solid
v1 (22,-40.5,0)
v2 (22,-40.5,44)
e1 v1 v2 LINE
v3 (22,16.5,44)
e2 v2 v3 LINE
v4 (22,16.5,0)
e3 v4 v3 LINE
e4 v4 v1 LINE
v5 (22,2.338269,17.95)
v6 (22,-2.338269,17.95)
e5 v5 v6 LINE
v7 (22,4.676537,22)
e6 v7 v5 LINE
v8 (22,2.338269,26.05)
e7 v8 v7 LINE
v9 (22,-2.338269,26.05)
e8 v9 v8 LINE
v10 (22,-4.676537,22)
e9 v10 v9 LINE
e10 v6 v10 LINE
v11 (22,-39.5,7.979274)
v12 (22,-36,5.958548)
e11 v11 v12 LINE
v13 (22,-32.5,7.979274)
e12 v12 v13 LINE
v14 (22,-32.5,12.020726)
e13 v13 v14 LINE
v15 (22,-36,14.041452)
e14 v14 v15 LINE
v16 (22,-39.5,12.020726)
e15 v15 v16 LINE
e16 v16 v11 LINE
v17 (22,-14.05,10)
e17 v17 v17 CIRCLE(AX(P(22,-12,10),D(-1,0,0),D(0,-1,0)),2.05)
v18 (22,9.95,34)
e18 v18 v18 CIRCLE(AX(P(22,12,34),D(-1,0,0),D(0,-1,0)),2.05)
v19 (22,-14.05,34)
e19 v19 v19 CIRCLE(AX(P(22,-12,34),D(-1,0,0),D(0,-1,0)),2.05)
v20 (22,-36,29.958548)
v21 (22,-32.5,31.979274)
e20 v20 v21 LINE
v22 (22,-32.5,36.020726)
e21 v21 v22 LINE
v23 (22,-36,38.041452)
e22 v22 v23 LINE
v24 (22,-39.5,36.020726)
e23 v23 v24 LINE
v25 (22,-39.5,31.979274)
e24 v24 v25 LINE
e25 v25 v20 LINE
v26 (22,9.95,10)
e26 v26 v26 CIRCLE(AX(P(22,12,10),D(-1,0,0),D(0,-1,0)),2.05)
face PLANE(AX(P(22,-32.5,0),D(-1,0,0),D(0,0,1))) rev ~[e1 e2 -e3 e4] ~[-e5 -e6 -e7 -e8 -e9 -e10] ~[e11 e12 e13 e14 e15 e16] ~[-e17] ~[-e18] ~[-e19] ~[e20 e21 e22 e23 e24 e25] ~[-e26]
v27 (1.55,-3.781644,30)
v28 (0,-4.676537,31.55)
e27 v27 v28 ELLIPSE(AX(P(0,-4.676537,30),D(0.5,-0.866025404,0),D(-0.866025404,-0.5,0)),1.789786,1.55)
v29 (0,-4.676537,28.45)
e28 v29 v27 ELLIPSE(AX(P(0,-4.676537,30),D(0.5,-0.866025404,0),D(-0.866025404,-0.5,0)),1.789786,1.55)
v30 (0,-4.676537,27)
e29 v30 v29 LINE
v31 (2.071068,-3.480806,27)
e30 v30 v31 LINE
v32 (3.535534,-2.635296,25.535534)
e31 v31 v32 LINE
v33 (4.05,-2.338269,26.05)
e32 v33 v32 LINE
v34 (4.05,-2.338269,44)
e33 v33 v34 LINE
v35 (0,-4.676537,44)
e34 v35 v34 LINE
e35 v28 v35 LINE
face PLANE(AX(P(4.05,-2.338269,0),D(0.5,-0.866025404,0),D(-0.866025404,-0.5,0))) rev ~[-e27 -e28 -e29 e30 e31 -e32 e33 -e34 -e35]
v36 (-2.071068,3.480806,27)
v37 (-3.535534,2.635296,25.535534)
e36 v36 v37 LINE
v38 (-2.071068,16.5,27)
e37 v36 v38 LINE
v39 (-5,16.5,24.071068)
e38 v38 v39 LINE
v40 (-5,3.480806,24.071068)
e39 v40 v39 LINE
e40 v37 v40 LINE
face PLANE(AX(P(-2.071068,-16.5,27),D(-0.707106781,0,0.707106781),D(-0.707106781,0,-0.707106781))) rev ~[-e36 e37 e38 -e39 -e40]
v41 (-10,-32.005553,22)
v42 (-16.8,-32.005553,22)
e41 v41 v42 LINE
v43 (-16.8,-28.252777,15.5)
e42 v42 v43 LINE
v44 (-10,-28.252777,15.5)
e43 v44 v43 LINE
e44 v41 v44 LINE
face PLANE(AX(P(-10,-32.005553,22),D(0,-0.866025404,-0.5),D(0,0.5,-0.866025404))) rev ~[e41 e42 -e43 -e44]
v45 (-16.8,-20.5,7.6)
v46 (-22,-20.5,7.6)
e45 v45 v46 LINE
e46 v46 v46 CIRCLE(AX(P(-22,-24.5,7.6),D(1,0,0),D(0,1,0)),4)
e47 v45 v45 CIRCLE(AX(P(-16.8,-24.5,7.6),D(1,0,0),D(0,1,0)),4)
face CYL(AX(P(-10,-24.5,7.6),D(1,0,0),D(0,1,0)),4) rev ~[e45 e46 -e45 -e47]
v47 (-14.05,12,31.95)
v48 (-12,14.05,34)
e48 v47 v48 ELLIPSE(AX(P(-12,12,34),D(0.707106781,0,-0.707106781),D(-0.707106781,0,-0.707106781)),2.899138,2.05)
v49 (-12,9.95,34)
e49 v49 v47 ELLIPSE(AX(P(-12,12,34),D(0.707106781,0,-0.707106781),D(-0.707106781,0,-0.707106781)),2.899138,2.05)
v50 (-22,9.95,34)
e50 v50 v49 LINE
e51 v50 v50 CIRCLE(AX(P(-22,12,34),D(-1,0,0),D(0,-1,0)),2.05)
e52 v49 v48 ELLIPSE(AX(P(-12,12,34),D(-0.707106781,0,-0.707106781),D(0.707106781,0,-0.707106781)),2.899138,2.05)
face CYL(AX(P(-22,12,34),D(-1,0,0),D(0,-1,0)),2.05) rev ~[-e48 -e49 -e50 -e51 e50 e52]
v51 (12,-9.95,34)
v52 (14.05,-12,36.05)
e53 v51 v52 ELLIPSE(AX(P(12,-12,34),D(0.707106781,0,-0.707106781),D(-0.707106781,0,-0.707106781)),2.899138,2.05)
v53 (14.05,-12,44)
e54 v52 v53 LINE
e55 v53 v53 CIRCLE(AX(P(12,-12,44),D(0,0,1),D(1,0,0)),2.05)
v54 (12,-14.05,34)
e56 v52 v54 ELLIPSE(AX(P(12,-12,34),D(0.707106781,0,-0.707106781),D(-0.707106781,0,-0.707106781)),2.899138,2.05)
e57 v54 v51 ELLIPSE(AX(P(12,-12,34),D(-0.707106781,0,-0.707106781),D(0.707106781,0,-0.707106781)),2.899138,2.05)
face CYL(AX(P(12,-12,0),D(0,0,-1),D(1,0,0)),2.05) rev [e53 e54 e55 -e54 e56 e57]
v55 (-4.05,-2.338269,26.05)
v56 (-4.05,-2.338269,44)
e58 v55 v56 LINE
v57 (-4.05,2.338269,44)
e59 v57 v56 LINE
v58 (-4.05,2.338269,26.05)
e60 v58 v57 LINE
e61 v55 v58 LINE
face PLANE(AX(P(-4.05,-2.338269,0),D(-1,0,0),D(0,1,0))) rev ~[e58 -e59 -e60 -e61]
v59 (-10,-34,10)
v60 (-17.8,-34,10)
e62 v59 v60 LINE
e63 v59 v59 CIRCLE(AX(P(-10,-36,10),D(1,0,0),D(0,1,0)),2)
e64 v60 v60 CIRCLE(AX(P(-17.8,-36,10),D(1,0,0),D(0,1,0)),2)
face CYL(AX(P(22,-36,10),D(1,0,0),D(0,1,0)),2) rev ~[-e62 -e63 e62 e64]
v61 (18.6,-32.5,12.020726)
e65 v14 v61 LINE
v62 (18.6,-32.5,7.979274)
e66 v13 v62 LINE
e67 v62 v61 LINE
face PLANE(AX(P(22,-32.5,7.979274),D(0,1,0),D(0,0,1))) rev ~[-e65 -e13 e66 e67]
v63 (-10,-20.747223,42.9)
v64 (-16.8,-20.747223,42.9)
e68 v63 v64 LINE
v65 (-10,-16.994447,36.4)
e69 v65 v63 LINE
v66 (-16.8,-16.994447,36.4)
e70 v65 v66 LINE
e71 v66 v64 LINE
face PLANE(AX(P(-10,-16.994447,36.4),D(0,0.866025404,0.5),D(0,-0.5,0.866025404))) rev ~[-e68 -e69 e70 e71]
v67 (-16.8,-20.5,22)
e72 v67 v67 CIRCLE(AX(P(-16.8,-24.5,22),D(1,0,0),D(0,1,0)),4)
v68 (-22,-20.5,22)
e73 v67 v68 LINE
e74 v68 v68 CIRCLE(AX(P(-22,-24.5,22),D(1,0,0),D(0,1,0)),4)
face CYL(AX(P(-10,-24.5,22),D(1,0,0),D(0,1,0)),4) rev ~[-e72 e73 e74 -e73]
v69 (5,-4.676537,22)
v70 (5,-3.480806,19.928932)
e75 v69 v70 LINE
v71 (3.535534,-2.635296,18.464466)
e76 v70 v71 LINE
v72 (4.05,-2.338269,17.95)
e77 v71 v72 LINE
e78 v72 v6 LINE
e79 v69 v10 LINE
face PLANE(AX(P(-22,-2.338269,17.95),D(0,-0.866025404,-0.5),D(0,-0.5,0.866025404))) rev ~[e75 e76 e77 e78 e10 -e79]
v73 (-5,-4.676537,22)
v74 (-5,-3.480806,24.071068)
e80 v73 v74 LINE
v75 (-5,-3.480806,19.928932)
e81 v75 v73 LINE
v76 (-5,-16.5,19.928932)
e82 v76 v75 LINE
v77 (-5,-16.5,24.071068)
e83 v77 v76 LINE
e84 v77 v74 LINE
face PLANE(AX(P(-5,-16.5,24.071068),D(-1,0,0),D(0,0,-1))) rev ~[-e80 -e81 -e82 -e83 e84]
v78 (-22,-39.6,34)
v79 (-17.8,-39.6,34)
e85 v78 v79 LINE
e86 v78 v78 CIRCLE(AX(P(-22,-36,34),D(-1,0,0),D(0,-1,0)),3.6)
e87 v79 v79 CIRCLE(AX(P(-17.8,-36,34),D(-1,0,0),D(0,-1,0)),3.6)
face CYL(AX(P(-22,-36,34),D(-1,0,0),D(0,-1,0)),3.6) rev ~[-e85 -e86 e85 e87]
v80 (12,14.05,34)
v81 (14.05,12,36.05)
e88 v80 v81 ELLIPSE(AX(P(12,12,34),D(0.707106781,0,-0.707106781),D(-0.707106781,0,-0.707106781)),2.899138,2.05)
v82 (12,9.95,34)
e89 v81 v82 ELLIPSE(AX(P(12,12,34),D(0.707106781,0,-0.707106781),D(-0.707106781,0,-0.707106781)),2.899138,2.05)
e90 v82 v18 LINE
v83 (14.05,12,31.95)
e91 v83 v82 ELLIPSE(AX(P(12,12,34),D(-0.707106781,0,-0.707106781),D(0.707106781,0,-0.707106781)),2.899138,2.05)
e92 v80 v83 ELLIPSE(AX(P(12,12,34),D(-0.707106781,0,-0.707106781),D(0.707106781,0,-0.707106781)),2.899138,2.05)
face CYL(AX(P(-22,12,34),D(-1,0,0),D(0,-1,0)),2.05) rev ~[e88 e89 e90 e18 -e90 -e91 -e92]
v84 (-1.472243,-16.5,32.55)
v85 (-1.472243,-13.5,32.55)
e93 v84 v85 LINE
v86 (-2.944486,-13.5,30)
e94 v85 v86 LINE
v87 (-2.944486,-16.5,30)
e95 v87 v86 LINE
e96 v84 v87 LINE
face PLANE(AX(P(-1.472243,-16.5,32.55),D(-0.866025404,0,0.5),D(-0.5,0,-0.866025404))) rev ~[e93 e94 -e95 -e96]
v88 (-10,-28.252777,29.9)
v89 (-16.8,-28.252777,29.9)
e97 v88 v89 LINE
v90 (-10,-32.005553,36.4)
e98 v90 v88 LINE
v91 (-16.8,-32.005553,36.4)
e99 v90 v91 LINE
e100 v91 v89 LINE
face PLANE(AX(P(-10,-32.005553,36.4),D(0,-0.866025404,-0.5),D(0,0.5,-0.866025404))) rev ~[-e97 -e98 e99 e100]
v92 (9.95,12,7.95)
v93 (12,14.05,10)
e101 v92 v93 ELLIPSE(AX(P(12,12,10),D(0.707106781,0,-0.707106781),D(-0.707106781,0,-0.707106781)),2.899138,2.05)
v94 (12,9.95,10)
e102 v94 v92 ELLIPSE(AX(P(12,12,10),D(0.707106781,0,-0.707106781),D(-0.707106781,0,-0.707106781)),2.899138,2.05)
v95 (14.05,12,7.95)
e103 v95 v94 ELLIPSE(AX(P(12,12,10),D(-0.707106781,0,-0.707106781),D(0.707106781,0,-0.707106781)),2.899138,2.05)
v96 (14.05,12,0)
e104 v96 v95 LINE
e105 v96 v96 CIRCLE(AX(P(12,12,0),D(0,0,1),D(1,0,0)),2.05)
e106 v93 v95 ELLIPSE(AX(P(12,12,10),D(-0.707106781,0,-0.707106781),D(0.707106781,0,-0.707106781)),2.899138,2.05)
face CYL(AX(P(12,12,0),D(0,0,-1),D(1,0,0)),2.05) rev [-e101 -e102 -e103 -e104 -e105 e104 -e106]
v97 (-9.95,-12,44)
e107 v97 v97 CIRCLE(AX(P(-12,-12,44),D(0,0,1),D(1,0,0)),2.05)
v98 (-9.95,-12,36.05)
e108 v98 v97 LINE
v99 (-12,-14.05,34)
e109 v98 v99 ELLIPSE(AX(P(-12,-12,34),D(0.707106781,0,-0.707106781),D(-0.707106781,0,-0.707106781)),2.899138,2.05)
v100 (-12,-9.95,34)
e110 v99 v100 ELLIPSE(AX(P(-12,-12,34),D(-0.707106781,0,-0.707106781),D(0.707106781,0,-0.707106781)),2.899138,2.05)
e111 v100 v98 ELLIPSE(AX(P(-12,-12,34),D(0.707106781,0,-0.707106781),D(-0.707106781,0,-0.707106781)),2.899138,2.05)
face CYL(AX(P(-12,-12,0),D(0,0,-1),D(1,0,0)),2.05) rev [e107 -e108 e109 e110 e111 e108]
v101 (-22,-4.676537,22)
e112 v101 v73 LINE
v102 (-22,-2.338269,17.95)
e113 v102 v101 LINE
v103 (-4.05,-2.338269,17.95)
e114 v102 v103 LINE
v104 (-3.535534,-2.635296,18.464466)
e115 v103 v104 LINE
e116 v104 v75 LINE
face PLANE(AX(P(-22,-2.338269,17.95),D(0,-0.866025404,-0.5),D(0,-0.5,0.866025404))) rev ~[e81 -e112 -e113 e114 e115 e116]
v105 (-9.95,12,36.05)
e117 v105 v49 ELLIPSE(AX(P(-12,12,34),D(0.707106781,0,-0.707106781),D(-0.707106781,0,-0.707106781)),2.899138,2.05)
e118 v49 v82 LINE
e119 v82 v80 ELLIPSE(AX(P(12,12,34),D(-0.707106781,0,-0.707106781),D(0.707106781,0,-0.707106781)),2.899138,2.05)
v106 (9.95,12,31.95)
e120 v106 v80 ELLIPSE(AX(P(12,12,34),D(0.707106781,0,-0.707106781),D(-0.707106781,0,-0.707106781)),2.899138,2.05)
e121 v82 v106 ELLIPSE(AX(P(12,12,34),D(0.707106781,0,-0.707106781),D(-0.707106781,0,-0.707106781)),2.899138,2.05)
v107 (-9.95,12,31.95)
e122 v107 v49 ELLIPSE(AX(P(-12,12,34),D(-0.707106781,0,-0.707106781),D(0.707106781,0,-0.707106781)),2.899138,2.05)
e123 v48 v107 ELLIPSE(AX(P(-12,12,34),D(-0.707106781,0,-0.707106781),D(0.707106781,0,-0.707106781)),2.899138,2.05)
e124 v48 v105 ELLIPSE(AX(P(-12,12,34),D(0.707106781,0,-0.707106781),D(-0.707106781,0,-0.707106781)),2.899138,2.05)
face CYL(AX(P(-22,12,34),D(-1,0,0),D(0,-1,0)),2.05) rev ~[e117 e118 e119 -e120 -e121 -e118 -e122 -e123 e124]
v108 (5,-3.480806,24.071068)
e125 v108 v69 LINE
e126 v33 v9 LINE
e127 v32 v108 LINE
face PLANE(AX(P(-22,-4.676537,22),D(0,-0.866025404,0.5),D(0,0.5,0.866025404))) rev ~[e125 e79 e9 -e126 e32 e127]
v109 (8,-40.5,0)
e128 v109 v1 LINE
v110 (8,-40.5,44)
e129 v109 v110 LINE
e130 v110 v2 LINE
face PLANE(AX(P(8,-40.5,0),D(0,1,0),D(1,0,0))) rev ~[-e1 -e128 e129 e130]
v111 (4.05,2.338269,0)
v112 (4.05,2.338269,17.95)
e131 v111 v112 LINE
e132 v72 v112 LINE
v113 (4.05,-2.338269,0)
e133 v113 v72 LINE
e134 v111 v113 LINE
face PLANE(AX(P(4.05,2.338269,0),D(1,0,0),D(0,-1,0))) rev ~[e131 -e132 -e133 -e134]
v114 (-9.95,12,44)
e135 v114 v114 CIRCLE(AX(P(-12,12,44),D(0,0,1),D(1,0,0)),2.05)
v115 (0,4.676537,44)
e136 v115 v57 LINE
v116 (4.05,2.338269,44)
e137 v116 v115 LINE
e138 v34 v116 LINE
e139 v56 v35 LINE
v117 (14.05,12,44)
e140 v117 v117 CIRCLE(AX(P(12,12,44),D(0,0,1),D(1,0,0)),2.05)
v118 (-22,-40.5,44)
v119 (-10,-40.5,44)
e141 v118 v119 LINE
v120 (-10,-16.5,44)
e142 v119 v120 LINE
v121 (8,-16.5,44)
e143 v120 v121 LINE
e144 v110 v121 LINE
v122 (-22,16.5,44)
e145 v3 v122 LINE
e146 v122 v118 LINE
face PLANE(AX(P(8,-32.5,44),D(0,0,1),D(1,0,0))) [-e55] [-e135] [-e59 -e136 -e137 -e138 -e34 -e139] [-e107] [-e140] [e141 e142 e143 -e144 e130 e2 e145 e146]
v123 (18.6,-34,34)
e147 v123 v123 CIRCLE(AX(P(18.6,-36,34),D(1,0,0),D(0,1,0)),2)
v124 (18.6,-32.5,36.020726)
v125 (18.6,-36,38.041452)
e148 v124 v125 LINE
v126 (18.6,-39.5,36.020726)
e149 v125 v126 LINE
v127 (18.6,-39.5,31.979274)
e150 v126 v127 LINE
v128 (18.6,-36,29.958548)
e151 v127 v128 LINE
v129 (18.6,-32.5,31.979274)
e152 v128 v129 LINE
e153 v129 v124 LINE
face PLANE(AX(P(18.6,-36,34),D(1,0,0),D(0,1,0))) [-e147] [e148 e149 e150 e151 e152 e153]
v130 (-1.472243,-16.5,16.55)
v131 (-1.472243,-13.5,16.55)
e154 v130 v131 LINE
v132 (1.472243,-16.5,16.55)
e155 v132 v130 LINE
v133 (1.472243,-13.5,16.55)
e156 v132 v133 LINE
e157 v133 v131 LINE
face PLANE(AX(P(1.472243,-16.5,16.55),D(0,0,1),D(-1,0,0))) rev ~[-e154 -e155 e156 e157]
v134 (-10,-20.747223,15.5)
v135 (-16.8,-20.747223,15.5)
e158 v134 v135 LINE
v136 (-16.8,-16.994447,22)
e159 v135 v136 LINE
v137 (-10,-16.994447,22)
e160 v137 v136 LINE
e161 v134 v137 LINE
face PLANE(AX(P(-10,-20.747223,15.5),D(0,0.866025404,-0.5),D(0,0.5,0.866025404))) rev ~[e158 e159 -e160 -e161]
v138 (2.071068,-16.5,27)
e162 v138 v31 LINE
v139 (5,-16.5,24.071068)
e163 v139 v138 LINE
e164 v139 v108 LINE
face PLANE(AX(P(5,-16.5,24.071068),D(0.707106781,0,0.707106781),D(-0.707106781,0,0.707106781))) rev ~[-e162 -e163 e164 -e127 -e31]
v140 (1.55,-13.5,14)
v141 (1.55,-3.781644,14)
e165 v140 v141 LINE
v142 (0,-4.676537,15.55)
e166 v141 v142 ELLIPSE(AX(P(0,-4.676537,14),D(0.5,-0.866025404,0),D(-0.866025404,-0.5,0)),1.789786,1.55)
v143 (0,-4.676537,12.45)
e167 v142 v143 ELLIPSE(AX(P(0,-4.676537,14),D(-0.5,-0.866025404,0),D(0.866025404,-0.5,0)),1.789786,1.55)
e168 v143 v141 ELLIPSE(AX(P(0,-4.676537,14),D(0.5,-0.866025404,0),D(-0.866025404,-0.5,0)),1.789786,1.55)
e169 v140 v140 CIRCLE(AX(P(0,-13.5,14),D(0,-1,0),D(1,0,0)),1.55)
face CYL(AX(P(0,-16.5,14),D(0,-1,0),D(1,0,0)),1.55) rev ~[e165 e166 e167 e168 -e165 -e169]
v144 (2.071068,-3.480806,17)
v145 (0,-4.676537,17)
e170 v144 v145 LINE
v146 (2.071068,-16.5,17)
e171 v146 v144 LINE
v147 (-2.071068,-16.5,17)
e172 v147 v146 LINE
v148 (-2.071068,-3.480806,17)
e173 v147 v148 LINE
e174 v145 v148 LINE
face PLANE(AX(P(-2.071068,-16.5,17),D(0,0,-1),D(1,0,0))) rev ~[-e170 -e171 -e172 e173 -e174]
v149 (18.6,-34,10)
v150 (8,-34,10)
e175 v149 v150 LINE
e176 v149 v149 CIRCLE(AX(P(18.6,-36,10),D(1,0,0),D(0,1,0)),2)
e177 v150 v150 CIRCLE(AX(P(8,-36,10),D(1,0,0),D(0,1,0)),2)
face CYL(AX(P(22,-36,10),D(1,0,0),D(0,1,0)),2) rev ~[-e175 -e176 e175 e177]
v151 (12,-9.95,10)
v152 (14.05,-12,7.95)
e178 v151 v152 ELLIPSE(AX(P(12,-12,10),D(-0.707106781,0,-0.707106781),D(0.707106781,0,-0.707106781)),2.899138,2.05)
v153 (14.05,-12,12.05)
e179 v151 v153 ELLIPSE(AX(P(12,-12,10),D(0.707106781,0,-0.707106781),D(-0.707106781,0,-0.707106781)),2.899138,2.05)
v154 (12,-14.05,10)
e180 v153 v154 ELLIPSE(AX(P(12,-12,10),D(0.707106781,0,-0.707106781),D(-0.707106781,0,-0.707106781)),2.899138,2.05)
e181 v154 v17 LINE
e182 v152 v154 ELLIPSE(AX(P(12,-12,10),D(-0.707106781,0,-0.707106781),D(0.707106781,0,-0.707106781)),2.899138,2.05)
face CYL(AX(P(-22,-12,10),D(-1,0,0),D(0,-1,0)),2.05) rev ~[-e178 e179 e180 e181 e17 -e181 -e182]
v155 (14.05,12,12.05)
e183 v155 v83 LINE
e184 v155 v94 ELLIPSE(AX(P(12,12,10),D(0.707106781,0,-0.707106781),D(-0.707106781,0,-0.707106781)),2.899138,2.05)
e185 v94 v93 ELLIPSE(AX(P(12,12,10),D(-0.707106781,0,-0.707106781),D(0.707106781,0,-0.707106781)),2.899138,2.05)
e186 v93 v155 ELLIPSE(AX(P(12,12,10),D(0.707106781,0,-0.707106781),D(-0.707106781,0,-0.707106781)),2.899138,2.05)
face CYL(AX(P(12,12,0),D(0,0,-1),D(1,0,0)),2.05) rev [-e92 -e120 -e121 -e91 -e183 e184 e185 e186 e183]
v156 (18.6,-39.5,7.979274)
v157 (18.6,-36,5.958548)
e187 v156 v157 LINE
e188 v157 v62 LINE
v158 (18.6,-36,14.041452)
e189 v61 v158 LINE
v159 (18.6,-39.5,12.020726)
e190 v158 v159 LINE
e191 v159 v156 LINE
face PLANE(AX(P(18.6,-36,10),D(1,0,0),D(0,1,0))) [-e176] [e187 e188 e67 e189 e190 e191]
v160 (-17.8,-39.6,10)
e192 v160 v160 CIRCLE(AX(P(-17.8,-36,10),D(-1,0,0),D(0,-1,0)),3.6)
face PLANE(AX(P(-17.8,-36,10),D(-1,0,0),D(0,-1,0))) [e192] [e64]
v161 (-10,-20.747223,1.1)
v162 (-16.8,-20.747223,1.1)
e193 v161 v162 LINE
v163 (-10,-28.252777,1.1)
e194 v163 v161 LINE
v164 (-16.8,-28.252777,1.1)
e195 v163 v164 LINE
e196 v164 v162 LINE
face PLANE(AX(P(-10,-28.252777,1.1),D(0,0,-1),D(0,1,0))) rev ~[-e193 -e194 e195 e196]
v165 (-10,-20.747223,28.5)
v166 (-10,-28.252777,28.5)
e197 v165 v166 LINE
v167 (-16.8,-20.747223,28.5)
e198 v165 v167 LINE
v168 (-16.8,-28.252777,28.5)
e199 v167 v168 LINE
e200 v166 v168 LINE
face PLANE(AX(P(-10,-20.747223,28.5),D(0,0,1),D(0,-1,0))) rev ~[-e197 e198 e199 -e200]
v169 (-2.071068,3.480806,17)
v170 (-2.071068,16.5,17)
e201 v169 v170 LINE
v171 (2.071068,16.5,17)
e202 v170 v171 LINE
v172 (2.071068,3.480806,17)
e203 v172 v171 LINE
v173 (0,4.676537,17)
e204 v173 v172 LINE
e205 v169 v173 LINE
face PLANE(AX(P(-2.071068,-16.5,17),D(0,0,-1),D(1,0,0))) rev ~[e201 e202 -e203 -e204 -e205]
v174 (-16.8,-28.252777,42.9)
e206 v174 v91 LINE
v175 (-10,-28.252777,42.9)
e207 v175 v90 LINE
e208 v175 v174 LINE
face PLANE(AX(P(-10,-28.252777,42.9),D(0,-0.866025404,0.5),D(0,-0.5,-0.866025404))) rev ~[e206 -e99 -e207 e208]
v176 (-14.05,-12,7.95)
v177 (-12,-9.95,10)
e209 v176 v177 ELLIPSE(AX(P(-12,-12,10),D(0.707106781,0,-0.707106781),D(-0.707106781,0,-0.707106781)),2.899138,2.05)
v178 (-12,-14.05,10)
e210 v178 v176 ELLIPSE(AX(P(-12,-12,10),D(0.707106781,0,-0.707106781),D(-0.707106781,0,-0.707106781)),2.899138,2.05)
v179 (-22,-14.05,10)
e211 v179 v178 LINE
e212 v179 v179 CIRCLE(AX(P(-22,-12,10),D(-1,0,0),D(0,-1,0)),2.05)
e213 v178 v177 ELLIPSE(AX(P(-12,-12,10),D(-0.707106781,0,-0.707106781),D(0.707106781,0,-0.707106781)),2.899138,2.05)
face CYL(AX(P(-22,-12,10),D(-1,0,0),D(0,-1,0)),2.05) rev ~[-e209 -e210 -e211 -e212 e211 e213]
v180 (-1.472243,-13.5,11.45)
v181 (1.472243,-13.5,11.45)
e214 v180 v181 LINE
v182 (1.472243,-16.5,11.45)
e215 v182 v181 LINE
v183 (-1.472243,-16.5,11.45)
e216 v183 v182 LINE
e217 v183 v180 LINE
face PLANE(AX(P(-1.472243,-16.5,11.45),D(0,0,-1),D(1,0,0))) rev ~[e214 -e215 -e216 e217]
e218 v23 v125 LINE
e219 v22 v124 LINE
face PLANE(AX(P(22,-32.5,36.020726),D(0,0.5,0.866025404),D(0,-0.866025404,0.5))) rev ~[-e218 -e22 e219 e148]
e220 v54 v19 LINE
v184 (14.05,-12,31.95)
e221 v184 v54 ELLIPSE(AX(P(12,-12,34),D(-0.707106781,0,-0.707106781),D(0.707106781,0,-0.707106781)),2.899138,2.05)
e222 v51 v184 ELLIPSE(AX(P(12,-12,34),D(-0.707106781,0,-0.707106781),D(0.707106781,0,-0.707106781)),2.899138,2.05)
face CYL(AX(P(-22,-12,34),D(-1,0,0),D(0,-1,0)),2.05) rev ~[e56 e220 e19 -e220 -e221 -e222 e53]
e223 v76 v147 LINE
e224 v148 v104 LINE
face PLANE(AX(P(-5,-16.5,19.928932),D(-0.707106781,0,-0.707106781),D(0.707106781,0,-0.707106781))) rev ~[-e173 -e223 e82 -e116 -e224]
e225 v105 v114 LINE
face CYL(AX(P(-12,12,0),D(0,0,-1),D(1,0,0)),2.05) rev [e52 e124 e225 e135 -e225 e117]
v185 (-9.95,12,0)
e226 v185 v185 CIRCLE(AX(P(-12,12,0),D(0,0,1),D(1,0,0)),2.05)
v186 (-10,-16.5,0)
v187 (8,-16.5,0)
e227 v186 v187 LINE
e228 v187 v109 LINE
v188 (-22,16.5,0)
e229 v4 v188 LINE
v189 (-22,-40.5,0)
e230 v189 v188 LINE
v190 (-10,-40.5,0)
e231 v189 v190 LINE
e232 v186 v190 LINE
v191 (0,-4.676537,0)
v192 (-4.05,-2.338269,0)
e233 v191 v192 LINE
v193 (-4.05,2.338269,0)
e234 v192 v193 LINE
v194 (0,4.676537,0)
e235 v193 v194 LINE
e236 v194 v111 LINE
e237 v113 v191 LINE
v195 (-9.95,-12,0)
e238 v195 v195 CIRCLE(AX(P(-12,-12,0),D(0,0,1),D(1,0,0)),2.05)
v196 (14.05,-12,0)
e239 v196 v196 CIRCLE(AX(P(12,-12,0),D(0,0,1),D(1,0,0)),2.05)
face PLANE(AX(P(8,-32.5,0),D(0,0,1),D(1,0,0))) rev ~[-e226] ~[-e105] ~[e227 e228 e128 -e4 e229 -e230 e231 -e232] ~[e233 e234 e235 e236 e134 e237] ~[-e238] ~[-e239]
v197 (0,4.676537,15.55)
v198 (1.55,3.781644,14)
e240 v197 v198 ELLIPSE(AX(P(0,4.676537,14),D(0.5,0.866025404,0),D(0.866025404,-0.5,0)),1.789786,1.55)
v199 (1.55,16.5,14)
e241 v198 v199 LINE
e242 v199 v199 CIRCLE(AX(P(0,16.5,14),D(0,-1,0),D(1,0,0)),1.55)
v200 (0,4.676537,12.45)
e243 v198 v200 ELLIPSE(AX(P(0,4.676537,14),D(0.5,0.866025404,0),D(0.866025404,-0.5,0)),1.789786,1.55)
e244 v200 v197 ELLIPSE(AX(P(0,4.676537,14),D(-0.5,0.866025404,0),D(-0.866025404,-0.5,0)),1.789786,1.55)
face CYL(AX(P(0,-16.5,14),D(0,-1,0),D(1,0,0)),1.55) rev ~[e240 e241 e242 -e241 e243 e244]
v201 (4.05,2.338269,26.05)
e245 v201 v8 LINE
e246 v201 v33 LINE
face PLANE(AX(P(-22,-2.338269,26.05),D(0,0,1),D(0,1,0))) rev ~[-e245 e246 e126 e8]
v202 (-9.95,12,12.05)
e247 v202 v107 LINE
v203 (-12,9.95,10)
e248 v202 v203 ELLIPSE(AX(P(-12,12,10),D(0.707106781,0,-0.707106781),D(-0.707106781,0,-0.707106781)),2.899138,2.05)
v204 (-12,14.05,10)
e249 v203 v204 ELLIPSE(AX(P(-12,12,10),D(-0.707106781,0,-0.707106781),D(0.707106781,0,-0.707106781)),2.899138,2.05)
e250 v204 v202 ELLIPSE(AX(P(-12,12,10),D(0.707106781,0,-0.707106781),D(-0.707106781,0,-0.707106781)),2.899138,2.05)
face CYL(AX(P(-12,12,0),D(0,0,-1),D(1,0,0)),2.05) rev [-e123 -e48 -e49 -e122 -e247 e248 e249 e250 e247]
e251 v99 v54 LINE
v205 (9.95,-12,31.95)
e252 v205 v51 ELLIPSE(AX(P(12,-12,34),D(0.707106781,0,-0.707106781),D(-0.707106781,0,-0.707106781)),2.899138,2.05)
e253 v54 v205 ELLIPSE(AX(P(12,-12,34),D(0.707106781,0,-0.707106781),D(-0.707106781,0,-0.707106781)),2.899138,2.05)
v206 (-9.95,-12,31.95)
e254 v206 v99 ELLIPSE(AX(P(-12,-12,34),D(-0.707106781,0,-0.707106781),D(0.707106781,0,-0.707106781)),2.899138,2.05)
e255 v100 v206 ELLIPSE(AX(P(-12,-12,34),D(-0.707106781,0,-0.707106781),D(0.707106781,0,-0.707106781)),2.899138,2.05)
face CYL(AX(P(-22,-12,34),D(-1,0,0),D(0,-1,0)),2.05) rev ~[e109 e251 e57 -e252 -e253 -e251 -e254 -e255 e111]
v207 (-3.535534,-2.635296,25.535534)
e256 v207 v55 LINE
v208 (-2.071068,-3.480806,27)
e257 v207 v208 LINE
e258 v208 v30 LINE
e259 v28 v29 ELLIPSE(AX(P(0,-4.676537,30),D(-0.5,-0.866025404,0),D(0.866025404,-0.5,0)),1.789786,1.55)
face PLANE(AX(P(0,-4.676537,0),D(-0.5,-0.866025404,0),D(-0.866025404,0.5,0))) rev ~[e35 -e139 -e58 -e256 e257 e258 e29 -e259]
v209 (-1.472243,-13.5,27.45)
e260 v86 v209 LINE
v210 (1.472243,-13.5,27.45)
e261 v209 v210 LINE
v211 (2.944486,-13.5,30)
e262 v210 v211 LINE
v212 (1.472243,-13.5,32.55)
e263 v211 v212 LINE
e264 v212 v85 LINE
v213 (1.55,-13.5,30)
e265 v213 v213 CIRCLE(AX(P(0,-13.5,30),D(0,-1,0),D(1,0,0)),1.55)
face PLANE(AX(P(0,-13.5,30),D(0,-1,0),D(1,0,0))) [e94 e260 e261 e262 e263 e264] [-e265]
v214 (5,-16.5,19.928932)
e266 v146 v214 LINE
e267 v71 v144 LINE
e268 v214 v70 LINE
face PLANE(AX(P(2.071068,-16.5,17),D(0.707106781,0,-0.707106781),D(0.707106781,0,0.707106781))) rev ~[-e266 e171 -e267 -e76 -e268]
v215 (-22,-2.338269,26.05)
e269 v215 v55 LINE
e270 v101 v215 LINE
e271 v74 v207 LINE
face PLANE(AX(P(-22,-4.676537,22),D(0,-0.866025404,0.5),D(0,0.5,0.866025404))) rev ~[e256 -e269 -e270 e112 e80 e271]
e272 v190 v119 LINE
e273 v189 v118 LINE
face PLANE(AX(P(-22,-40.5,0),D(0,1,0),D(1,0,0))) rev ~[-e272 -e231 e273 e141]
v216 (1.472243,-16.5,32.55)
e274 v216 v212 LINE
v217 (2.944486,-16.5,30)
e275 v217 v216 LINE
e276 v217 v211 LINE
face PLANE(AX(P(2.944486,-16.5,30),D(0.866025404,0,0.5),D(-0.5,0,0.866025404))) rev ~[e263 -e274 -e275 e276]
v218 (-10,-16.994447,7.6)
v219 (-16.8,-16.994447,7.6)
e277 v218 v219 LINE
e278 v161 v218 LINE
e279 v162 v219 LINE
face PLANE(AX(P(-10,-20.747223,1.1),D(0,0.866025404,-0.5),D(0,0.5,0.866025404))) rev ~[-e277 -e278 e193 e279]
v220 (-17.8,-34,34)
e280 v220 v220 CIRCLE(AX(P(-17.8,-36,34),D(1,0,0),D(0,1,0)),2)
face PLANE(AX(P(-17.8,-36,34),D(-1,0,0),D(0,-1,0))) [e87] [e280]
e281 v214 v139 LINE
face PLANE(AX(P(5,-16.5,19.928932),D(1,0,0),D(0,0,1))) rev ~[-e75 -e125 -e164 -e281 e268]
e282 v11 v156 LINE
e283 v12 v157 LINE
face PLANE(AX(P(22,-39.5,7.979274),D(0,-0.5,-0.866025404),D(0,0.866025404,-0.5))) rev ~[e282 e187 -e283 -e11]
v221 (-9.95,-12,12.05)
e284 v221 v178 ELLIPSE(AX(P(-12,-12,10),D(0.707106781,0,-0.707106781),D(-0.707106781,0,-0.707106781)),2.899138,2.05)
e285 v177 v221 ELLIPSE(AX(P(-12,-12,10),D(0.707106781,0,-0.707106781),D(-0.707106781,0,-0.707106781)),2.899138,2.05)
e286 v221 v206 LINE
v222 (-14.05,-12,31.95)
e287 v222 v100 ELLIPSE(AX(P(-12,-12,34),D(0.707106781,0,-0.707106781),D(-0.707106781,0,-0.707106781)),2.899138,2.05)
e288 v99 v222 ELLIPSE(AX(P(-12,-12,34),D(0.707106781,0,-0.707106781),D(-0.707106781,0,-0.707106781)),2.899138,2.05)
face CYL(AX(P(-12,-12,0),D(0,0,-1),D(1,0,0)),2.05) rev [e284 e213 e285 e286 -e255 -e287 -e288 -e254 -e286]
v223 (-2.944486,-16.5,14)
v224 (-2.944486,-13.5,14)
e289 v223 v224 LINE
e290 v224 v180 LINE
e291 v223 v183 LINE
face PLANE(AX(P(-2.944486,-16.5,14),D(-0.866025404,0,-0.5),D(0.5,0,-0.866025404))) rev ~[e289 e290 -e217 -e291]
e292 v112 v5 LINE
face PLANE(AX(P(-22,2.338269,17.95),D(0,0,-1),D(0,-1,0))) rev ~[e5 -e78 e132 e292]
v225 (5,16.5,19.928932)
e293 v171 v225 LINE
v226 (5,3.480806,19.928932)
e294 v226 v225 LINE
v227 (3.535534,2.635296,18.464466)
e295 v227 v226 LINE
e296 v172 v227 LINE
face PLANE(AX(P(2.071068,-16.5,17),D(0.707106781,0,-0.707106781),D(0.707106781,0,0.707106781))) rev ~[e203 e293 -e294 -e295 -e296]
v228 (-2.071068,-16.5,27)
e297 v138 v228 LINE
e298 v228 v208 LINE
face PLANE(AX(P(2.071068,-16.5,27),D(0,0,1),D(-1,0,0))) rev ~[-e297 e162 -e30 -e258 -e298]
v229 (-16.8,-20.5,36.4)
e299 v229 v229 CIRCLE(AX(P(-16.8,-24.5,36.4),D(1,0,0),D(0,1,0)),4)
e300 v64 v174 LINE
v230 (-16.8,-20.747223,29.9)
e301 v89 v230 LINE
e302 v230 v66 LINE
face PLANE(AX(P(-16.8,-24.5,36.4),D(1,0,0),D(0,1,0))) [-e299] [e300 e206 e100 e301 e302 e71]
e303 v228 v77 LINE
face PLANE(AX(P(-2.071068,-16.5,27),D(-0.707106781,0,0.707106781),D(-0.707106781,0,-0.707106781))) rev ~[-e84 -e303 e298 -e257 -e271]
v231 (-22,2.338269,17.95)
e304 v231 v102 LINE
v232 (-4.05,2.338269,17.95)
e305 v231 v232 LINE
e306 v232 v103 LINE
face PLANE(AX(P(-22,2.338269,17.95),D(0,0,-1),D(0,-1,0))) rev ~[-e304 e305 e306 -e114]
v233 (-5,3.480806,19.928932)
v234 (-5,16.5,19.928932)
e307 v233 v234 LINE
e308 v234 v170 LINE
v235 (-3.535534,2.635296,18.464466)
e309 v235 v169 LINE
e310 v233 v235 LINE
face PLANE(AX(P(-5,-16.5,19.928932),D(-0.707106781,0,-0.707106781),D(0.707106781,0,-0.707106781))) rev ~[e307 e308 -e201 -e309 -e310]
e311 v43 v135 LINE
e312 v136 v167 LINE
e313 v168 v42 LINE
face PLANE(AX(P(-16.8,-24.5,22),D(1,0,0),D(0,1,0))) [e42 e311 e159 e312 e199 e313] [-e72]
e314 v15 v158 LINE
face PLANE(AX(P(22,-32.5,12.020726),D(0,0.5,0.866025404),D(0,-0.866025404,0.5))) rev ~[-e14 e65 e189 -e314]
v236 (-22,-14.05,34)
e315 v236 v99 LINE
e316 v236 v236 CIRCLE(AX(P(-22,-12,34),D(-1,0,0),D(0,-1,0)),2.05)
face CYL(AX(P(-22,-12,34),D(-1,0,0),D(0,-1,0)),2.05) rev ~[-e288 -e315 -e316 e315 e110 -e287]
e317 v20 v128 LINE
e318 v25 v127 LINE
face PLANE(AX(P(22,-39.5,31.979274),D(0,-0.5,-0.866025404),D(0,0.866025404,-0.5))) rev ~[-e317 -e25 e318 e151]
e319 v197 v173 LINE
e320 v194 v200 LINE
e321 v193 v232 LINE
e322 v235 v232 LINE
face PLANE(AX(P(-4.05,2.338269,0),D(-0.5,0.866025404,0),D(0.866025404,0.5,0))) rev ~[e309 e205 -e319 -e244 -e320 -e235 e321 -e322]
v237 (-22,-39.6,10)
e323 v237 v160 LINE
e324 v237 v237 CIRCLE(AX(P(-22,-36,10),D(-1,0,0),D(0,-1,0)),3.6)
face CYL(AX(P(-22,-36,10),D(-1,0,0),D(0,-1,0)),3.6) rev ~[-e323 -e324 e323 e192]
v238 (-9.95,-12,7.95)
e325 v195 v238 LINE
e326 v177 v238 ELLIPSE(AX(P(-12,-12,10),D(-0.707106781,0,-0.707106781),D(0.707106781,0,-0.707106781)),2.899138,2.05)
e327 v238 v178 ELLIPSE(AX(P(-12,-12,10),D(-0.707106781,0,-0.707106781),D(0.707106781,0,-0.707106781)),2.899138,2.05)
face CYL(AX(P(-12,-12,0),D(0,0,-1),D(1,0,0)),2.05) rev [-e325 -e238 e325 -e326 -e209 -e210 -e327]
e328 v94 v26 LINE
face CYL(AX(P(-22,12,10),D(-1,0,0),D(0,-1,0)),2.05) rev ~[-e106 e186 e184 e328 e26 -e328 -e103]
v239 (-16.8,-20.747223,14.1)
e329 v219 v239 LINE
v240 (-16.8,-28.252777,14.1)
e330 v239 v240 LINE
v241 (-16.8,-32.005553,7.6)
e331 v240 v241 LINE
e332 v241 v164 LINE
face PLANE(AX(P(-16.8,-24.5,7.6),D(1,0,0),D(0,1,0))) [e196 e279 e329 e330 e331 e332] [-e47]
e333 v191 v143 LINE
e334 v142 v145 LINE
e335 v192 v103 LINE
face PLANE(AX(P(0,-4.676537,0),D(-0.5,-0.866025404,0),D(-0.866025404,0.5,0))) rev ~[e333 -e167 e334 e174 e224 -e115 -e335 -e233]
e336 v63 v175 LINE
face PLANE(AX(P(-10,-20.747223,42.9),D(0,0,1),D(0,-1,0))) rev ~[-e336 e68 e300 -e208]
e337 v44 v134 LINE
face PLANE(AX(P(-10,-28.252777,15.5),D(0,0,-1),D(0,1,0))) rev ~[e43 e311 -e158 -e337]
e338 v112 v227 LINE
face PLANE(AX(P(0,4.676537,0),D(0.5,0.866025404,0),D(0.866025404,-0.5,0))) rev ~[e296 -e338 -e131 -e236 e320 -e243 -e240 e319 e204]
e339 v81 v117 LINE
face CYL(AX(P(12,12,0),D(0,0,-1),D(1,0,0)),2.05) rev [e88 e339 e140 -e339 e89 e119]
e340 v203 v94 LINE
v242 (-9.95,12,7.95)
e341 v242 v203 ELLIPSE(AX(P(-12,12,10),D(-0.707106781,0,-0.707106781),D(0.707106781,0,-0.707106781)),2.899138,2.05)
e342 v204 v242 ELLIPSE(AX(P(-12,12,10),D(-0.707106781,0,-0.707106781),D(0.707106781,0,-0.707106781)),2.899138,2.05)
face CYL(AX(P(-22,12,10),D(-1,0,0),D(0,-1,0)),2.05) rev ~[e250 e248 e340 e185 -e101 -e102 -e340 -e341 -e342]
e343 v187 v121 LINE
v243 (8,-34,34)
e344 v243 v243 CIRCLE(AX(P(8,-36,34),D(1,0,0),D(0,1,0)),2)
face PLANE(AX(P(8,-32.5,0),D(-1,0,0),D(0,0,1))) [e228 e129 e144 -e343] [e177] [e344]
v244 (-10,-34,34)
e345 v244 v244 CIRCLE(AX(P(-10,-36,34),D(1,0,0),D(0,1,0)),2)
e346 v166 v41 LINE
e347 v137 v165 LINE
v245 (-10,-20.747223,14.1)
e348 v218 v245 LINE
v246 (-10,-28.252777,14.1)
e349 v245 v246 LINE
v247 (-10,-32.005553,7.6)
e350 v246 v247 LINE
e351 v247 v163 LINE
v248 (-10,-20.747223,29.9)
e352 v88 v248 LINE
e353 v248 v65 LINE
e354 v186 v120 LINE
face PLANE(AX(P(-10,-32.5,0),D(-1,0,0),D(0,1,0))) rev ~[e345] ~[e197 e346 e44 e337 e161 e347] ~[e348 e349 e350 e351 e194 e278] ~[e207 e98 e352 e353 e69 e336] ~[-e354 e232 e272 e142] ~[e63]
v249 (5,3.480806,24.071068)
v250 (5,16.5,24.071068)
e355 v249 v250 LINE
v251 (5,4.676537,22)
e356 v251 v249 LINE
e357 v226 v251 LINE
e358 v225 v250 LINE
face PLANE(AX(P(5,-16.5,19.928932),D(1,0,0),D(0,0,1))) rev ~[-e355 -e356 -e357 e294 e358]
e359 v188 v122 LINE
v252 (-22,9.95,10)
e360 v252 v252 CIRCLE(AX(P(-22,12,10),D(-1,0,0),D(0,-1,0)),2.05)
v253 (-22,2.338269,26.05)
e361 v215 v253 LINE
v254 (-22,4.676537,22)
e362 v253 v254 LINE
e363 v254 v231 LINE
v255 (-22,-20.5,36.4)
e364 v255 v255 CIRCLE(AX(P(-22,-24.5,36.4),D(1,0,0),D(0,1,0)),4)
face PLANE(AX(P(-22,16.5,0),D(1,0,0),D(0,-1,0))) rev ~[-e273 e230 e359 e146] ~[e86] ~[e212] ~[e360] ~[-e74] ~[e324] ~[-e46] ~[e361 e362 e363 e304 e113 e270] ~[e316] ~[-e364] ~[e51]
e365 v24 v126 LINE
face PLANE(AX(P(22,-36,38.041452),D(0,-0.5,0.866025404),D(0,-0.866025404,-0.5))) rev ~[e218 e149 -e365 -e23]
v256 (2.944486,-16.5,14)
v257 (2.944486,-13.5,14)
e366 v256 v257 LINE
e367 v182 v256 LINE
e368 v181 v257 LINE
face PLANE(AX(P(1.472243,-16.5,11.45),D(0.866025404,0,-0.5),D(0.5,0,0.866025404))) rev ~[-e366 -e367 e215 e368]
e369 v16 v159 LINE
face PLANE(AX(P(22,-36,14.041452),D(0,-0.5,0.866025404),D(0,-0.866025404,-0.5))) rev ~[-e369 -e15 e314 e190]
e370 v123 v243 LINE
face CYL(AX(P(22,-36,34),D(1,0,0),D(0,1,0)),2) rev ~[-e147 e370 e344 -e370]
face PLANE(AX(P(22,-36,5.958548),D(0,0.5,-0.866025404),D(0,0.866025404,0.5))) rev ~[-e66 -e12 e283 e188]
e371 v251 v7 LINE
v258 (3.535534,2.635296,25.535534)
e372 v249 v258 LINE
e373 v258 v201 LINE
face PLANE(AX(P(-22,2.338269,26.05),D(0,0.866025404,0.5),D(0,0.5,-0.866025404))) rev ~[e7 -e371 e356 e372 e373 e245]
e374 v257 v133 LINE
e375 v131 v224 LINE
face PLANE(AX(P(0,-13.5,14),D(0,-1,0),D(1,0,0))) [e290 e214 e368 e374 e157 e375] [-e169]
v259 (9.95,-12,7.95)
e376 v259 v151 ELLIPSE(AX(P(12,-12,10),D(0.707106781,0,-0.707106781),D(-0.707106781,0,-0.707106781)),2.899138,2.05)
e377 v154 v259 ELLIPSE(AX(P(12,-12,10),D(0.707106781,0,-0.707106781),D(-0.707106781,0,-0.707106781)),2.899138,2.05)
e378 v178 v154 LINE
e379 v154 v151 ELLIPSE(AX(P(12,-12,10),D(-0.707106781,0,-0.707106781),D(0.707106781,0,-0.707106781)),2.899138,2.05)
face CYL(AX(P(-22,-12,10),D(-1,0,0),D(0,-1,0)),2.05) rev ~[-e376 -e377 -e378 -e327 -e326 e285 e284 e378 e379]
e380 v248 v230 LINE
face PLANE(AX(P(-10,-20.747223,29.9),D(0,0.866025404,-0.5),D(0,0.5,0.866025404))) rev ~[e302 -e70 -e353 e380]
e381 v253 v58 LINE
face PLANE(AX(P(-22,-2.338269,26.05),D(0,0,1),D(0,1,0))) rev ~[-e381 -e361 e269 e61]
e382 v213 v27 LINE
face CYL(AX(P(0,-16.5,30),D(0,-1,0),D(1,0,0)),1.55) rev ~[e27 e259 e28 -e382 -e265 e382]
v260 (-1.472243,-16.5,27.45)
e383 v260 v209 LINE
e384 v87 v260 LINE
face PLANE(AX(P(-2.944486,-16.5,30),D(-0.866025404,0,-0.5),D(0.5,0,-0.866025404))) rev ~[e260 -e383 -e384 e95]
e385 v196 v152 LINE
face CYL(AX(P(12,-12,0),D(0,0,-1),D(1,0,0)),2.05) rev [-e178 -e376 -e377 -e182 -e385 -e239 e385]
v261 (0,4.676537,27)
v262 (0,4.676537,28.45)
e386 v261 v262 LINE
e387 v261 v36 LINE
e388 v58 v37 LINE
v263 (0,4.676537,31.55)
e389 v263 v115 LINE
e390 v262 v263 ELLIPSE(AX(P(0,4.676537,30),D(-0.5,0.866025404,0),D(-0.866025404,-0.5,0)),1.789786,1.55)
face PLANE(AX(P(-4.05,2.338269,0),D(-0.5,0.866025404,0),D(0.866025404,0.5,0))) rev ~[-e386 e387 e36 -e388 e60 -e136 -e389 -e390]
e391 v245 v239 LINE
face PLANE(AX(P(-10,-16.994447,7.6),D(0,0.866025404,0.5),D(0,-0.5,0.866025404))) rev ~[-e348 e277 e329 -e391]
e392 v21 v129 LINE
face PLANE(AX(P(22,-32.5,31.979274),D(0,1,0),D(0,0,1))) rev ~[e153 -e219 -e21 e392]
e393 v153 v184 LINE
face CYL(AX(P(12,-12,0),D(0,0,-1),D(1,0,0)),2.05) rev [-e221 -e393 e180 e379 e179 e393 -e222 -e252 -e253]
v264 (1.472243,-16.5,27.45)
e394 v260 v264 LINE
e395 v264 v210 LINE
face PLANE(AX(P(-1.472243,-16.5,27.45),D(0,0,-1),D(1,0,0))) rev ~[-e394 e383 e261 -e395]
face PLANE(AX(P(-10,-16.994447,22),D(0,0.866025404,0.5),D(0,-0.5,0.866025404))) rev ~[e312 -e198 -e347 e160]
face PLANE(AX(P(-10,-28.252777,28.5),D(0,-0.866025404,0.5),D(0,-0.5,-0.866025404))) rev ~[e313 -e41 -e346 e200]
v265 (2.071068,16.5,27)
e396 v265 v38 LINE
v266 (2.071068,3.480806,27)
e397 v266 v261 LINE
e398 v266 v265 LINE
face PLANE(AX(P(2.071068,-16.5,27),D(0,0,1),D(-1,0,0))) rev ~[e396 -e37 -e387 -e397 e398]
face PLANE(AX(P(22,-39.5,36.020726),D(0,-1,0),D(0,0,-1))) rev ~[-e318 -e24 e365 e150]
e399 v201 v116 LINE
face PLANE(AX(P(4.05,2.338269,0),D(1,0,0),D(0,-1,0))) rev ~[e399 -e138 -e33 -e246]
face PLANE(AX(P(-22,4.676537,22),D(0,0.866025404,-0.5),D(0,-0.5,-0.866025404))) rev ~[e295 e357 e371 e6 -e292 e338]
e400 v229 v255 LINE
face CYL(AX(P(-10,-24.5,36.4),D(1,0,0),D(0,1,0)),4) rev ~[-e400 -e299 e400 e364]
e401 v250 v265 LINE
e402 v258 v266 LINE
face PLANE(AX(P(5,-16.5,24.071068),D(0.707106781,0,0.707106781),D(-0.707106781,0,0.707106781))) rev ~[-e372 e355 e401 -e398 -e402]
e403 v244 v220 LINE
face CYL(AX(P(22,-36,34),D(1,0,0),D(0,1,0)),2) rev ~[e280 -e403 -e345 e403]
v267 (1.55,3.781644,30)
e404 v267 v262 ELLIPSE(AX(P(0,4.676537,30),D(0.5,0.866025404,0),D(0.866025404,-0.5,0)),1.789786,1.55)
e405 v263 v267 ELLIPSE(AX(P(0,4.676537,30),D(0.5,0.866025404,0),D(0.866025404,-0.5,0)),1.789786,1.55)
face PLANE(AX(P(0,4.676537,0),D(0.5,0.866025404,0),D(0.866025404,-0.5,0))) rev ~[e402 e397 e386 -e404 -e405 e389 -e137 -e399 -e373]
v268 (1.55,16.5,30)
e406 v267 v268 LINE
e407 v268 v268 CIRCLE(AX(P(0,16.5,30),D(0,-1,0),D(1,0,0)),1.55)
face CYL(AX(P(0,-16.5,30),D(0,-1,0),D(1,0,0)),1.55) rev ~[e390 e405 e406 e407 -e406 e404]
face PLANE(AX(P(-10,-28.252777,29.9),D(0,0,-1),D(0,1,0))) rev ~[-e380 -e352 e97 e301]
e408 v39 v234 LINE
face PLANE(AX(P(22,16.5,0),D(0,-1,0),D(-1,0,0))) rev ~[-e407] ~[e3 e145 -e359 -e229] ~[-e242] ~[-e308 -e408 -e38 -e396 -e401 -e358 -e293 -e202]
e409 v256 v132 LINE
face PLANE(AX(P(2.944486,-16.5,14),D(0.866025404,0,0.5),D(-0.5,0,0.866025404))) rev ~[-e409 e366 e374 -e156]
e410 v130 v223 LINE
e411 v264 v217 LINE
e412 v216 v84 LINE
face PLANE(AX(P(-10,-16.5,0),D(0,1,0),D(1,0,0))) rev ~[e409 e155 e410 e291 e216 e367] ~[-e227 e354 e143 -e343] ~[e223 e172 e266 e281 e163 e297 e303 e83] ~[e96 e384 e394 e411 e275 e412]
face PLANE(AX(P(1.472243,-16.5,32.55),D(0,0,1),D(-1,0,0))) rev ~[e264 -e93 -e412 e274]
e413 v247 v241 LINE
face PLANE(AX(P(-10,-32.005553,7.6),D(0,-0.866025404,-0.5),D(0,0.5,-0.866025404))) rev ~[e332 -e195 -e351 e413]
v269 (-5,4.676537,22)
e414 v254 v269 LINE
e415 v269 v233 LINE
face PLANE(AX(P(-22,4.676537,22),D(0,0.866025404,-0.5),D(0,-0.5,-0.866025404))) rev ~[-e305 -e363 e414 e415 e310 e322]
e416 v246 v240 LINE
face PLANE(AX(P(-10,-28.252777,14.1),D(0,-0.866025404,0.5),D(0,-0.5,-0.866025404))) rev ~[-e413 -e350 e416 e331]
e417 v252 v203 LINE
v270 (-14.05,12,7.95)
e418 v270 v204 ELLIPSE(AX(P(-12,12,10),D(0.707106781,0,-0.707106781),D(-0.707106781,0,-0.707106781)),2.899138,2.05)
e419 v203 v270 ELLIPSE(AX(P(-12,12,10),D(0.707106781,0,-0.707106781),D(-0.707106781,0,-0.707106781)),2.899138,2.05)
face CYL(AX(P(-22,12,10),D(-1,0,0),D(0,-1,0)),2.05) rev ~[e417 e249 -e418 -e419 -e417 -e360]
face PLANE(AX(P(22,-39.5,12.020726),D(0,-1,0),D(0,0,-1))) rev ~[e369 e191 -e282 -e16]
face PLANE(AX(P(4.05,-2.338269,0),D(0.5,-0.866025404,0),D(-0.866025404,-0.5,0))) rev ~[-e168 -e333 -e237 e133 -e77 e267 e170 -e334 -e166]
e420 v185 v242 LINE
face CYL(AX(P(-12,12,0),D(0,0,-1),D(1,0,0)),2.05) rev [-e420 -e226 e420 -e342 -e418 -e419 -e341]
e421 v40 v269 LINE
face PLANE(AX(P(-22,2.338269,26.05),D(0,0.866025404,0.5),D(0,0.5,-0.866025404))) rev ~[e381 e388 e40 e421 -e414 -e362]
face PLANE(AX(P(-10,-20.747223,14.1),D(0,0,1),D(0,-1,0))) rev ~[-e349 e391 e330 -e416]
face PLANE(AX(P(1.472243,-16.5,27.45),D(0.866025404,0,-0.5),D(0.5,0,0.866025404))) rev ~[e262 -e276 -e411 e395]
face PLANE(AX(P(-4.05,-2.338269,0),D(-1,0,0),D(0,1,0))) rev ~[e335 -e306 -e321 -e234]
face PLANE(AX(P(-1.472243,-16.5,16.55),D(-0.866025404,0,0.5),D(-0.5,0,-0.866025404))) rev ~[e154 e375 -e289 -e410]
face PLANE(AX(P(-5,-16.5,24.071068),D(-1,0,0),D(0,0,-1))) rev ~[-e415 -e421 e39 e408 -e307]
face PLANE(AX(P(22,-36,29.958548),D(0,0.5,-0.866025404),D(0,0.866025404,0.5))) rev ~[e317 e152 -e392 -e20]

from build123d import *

# Parameters (mm, degrees)
F0_R      = 2.05
F1_DEPTH  = 44
F2_R      = 4
F3_DEPTH  = 12.001
F4_DEPTH  = 6.8
F6_DEPTH  = 33.001
F7_R      = 2.05
F8_DEPTH  = 44.001
F9_DEPTH  = 8
F10_R     = 2
F11_DEPTH = 44.001
F12_DEPTH = 3.4
F13_R     = 3.6
F14_DEPTH = 4.2
F16_DEPTH = 44.001
F18_DEPTH = 44.001
F19_R     = 1.55
F20_DEPTH = 33.001
F21_DEPTH = 3


with BuildPart() as f1:
    # F0 (on Top) → F1 (new body)
    with BuildSketch(Plane.XY):
        Polygon((16.5, 16.5), (-16.5, 16.5), (-22, 16.5), (-22, -32.5), (-10, -32.5), (-10, -16.5), (8, -16.5), (8, -32.5), (22, -32.5), (22, 16.5), align=None)
        with Locations((-12, -12)):
            Circle(F0_R, mode=Mode.SUBTRACT)
        with Locations((12, -12)):
            Circle(F0_R, mode=Mode.SUBTRACT)
        with Locations((-12, 12)):
            Circle(F0_R, mode=Mode.SUBTRACT)
        with Locations((12, 12)):
            Circle(F0_R, mode=Mode.SUBTRACT)
    extrude(amount=F1_DEPTH)

    # F2 (on face) → F3 (cut, through all)
    with BuildSketch(Plane.YZ.offset(-10)):
        with Locations((-24.5, 36.4)):
            Circle(F2_R)
        with Locations((-24.5, 22)):
            Circle(F2_R)
        with Locations((-24.5, 7.6)):
            Circle(F2_R)
    extrude(amount=-F3_DEPTH, mode=Mode.SUBTRACT)

    # F2 (on face) → F4 (cut)
    with BuildSketch(Plane.YZ.offset(-10)):
        Polygon((-16.9944465005, 36.4), (-20.7472232503, 42.9), (-28.2527767497, 42.9), (-32.0055534995, 36.4), (-28.2527767497, 29.9), (-20.7472232503, 29.9), align=None)
        with Locations((-24.5, 36.4)):
            Circle(F2_R, mode=Mode.SUBTRACT)
        Polygon((-16.9944465005, 22), (-20.7472232503, 28.5), (-28.2527767497, 28.5), (-32.0055534995, 22), (-28.2527767497, 15.5), (-20.7472232503, 15.5), align=None)
        with Locations((-24.5, 22)):
            Circle(F2_R, mode=Mode.SUBTRACT)
        Polygon((-28.2527767497, 14.1), (-32.0055534995, 7.6), (-28.2527767497, 1.1), (-20.7472232503, 1.1), (-16.9944465005, 7.6), (-20.7472232503, 14.1), align=None)
        with Locations((-24.5, 7.6)):
            Circle(F2_R, mode=Mode.SUBTRACT)
    extrude(amount=-F4_DEPTH, mode=Mode.SUBTRACT)

    # F5 (on face) → F6 (cut, through all)
    with BuildSketch(Plane.XZ.offset(16.5)):
        Polygon((2.0710678119, 27), (-2.0710678119, 27), (-5, 24.0710678119), (-5, 19.9289321881), (-2.0710678119, 17), (2.0710678119, 17), (5, 19.9289321881), (5, 24.0710678119), align=None)
    extrude(amount=-F6_DEPTH, mode=Mode.SUBTRACT)

    # F7 (on face) → F8 (cut, through all)
    with BuildSketch(Plane(origin=(-22, 0, 0), x_dir=(0, -1, 0), z_dir=(-1, 0, 0))):
        with Locations((-12, 34)):
            Circle(F7_R)
        with Locations((12, 34)):
            Circle(F7_R)
        with Locations((12, 10)):
            Circle(F7_R)
        with Locations((-12, 10)):
            Circle(F7_R)
    extrude(amount=-F8_DEPTH, mode=Mode.SUBTRACT)

    # F9 (add): faces of the model
    f9_faces = [f1.faces().sort_by_distance(p)[0] for p in [
        (15, -32.5, 22),
        (-16, -32.5, 22),
    ]]
    extrude(f9_faces, amount=F9_DEPTH)

    # F10 (on face) → F11 (cut, through all)
    with BuildSketch(Plane.YZ.offset(22)):
        with Locations((-36, 10)):
            Circle(F10_R)
        with Locations((-36, 34)):
            Circle(F10_R)
    extrude(amount=-F11_DEPTH, mode=Mode.SUBTRACT)

    # F10 (on face) → F12 (cut)
    with BuildSketch(Plane.YZ.offset(22)):
        Polygon((-32.5, 7.9792740578), (-32.5, 12.0207259422), (-36, 14.0414518843), (-39.5, 12.0207259422), (-39.5, 7.9792740578), (-36, 5.9585481157), align=None)
        with Locations((-36, 10)):
            Circle(F10_R, mode=Mode.SUBTRACT)
        Polygon((-32.5, 31.9792740578), (-32.5, 36.0207259422), (-36, 38.0414518843), (-39.5, 36.0207259422), (-39.5, 31.9792740578), (-36, 29.9585481157), align=None)
        with Locations((-36, 34)):
            Circle(F10_R, mode=Mode.SUBTRACT)
    extrude(amount=-F12_DEPTH, mode=Mode.SUBTRACT)

    # F13 (on face) → F14 (cut)
    with BuildSketch(Plane(origin=(-22, 0, 0), x_dir=(0, -1, 0), z_dir=(-1, 0, 0))):
        with Locations((36, 10)):
            Circle(F13_R)
        with Locations((36, 34)):
            Circle(F13_R)
    extrude(amount=-F14_DEPTH, mode=Mode.SUBTRACT)

    # F15 (on face) → F16 (cut, through all)
    with BuildSketch(Plane(origin=(0, 0, 0), x_dir=(1, 0, 0), z_dir=(0, 0, -1))):
        Polygon((-4.05, -2.3382685902), (0, -4.6765371804), (4.05, -2.3382685902), (4.05, 2.3382685902), (0, 4.6765371804), (-4.05, 2.3382685902), align=None)
    extrude(amount=-F16_DEPTH, mode=Mode.SUBTRACT)

    # F17 (on face) → F18 (cut, through all)
    with BuildSketch(Plane(origin=(-22, 0, 0), x_dir=(0, -1, 0), z_dir=(-1, 0, 0))):
        Polygon((-2.3382685902, 17.95), (2.3382685902, 17.95), (4.6765371804, 22), (2.3382685902, 26.05), (-2.3382685902, 26.05), (-4.6765371804, 22), align=None)
    extrude(amount=-F18_DEPTH, mode=Mode.SUBTRACT)

    # F19 (on face) → F20 (cut, through all)
    with BuildSketch(Plane.XZ.offset(16.5)):
        with Locations((0, 30)):
            Circle(F19_R)
        with Locations((0, 14)):
            Circle(F19_R)
    extrude(amount=-F20_DEPTH, mode=Mode.SUBTRACT)

    # F19 (on face) → F21 (cut)
    with BuildSketch(Plane.XZ.offset(16.5)):
        Polygon((2.9444863729, 30), (1.4722431864, 32.55), (-1.4722431864, 32.55), (-2.9444863729, 30), (-1.4722431864, 27.45), (1.4722431864, 27.45), align=None)
        with Locations((0, 30)):
            Circle(F19_R, mode=Mode.SUBTRACT)
        Polygon((-1.4722431864, 16.55), (-2.9444863729, 14), (-1.4722431864, 11.45), (1.4722431864, 11.45), (2.9444863729, 14), (1.4722431864, 16.55), align=None)
        with Locations((0, 14)):
            Circle(F19_R, mode=Mode.SUBTRACT)
    extrude(amount=-F21_DEPTH, mode=Mode.SUBTRACT)


solid = f1.part
